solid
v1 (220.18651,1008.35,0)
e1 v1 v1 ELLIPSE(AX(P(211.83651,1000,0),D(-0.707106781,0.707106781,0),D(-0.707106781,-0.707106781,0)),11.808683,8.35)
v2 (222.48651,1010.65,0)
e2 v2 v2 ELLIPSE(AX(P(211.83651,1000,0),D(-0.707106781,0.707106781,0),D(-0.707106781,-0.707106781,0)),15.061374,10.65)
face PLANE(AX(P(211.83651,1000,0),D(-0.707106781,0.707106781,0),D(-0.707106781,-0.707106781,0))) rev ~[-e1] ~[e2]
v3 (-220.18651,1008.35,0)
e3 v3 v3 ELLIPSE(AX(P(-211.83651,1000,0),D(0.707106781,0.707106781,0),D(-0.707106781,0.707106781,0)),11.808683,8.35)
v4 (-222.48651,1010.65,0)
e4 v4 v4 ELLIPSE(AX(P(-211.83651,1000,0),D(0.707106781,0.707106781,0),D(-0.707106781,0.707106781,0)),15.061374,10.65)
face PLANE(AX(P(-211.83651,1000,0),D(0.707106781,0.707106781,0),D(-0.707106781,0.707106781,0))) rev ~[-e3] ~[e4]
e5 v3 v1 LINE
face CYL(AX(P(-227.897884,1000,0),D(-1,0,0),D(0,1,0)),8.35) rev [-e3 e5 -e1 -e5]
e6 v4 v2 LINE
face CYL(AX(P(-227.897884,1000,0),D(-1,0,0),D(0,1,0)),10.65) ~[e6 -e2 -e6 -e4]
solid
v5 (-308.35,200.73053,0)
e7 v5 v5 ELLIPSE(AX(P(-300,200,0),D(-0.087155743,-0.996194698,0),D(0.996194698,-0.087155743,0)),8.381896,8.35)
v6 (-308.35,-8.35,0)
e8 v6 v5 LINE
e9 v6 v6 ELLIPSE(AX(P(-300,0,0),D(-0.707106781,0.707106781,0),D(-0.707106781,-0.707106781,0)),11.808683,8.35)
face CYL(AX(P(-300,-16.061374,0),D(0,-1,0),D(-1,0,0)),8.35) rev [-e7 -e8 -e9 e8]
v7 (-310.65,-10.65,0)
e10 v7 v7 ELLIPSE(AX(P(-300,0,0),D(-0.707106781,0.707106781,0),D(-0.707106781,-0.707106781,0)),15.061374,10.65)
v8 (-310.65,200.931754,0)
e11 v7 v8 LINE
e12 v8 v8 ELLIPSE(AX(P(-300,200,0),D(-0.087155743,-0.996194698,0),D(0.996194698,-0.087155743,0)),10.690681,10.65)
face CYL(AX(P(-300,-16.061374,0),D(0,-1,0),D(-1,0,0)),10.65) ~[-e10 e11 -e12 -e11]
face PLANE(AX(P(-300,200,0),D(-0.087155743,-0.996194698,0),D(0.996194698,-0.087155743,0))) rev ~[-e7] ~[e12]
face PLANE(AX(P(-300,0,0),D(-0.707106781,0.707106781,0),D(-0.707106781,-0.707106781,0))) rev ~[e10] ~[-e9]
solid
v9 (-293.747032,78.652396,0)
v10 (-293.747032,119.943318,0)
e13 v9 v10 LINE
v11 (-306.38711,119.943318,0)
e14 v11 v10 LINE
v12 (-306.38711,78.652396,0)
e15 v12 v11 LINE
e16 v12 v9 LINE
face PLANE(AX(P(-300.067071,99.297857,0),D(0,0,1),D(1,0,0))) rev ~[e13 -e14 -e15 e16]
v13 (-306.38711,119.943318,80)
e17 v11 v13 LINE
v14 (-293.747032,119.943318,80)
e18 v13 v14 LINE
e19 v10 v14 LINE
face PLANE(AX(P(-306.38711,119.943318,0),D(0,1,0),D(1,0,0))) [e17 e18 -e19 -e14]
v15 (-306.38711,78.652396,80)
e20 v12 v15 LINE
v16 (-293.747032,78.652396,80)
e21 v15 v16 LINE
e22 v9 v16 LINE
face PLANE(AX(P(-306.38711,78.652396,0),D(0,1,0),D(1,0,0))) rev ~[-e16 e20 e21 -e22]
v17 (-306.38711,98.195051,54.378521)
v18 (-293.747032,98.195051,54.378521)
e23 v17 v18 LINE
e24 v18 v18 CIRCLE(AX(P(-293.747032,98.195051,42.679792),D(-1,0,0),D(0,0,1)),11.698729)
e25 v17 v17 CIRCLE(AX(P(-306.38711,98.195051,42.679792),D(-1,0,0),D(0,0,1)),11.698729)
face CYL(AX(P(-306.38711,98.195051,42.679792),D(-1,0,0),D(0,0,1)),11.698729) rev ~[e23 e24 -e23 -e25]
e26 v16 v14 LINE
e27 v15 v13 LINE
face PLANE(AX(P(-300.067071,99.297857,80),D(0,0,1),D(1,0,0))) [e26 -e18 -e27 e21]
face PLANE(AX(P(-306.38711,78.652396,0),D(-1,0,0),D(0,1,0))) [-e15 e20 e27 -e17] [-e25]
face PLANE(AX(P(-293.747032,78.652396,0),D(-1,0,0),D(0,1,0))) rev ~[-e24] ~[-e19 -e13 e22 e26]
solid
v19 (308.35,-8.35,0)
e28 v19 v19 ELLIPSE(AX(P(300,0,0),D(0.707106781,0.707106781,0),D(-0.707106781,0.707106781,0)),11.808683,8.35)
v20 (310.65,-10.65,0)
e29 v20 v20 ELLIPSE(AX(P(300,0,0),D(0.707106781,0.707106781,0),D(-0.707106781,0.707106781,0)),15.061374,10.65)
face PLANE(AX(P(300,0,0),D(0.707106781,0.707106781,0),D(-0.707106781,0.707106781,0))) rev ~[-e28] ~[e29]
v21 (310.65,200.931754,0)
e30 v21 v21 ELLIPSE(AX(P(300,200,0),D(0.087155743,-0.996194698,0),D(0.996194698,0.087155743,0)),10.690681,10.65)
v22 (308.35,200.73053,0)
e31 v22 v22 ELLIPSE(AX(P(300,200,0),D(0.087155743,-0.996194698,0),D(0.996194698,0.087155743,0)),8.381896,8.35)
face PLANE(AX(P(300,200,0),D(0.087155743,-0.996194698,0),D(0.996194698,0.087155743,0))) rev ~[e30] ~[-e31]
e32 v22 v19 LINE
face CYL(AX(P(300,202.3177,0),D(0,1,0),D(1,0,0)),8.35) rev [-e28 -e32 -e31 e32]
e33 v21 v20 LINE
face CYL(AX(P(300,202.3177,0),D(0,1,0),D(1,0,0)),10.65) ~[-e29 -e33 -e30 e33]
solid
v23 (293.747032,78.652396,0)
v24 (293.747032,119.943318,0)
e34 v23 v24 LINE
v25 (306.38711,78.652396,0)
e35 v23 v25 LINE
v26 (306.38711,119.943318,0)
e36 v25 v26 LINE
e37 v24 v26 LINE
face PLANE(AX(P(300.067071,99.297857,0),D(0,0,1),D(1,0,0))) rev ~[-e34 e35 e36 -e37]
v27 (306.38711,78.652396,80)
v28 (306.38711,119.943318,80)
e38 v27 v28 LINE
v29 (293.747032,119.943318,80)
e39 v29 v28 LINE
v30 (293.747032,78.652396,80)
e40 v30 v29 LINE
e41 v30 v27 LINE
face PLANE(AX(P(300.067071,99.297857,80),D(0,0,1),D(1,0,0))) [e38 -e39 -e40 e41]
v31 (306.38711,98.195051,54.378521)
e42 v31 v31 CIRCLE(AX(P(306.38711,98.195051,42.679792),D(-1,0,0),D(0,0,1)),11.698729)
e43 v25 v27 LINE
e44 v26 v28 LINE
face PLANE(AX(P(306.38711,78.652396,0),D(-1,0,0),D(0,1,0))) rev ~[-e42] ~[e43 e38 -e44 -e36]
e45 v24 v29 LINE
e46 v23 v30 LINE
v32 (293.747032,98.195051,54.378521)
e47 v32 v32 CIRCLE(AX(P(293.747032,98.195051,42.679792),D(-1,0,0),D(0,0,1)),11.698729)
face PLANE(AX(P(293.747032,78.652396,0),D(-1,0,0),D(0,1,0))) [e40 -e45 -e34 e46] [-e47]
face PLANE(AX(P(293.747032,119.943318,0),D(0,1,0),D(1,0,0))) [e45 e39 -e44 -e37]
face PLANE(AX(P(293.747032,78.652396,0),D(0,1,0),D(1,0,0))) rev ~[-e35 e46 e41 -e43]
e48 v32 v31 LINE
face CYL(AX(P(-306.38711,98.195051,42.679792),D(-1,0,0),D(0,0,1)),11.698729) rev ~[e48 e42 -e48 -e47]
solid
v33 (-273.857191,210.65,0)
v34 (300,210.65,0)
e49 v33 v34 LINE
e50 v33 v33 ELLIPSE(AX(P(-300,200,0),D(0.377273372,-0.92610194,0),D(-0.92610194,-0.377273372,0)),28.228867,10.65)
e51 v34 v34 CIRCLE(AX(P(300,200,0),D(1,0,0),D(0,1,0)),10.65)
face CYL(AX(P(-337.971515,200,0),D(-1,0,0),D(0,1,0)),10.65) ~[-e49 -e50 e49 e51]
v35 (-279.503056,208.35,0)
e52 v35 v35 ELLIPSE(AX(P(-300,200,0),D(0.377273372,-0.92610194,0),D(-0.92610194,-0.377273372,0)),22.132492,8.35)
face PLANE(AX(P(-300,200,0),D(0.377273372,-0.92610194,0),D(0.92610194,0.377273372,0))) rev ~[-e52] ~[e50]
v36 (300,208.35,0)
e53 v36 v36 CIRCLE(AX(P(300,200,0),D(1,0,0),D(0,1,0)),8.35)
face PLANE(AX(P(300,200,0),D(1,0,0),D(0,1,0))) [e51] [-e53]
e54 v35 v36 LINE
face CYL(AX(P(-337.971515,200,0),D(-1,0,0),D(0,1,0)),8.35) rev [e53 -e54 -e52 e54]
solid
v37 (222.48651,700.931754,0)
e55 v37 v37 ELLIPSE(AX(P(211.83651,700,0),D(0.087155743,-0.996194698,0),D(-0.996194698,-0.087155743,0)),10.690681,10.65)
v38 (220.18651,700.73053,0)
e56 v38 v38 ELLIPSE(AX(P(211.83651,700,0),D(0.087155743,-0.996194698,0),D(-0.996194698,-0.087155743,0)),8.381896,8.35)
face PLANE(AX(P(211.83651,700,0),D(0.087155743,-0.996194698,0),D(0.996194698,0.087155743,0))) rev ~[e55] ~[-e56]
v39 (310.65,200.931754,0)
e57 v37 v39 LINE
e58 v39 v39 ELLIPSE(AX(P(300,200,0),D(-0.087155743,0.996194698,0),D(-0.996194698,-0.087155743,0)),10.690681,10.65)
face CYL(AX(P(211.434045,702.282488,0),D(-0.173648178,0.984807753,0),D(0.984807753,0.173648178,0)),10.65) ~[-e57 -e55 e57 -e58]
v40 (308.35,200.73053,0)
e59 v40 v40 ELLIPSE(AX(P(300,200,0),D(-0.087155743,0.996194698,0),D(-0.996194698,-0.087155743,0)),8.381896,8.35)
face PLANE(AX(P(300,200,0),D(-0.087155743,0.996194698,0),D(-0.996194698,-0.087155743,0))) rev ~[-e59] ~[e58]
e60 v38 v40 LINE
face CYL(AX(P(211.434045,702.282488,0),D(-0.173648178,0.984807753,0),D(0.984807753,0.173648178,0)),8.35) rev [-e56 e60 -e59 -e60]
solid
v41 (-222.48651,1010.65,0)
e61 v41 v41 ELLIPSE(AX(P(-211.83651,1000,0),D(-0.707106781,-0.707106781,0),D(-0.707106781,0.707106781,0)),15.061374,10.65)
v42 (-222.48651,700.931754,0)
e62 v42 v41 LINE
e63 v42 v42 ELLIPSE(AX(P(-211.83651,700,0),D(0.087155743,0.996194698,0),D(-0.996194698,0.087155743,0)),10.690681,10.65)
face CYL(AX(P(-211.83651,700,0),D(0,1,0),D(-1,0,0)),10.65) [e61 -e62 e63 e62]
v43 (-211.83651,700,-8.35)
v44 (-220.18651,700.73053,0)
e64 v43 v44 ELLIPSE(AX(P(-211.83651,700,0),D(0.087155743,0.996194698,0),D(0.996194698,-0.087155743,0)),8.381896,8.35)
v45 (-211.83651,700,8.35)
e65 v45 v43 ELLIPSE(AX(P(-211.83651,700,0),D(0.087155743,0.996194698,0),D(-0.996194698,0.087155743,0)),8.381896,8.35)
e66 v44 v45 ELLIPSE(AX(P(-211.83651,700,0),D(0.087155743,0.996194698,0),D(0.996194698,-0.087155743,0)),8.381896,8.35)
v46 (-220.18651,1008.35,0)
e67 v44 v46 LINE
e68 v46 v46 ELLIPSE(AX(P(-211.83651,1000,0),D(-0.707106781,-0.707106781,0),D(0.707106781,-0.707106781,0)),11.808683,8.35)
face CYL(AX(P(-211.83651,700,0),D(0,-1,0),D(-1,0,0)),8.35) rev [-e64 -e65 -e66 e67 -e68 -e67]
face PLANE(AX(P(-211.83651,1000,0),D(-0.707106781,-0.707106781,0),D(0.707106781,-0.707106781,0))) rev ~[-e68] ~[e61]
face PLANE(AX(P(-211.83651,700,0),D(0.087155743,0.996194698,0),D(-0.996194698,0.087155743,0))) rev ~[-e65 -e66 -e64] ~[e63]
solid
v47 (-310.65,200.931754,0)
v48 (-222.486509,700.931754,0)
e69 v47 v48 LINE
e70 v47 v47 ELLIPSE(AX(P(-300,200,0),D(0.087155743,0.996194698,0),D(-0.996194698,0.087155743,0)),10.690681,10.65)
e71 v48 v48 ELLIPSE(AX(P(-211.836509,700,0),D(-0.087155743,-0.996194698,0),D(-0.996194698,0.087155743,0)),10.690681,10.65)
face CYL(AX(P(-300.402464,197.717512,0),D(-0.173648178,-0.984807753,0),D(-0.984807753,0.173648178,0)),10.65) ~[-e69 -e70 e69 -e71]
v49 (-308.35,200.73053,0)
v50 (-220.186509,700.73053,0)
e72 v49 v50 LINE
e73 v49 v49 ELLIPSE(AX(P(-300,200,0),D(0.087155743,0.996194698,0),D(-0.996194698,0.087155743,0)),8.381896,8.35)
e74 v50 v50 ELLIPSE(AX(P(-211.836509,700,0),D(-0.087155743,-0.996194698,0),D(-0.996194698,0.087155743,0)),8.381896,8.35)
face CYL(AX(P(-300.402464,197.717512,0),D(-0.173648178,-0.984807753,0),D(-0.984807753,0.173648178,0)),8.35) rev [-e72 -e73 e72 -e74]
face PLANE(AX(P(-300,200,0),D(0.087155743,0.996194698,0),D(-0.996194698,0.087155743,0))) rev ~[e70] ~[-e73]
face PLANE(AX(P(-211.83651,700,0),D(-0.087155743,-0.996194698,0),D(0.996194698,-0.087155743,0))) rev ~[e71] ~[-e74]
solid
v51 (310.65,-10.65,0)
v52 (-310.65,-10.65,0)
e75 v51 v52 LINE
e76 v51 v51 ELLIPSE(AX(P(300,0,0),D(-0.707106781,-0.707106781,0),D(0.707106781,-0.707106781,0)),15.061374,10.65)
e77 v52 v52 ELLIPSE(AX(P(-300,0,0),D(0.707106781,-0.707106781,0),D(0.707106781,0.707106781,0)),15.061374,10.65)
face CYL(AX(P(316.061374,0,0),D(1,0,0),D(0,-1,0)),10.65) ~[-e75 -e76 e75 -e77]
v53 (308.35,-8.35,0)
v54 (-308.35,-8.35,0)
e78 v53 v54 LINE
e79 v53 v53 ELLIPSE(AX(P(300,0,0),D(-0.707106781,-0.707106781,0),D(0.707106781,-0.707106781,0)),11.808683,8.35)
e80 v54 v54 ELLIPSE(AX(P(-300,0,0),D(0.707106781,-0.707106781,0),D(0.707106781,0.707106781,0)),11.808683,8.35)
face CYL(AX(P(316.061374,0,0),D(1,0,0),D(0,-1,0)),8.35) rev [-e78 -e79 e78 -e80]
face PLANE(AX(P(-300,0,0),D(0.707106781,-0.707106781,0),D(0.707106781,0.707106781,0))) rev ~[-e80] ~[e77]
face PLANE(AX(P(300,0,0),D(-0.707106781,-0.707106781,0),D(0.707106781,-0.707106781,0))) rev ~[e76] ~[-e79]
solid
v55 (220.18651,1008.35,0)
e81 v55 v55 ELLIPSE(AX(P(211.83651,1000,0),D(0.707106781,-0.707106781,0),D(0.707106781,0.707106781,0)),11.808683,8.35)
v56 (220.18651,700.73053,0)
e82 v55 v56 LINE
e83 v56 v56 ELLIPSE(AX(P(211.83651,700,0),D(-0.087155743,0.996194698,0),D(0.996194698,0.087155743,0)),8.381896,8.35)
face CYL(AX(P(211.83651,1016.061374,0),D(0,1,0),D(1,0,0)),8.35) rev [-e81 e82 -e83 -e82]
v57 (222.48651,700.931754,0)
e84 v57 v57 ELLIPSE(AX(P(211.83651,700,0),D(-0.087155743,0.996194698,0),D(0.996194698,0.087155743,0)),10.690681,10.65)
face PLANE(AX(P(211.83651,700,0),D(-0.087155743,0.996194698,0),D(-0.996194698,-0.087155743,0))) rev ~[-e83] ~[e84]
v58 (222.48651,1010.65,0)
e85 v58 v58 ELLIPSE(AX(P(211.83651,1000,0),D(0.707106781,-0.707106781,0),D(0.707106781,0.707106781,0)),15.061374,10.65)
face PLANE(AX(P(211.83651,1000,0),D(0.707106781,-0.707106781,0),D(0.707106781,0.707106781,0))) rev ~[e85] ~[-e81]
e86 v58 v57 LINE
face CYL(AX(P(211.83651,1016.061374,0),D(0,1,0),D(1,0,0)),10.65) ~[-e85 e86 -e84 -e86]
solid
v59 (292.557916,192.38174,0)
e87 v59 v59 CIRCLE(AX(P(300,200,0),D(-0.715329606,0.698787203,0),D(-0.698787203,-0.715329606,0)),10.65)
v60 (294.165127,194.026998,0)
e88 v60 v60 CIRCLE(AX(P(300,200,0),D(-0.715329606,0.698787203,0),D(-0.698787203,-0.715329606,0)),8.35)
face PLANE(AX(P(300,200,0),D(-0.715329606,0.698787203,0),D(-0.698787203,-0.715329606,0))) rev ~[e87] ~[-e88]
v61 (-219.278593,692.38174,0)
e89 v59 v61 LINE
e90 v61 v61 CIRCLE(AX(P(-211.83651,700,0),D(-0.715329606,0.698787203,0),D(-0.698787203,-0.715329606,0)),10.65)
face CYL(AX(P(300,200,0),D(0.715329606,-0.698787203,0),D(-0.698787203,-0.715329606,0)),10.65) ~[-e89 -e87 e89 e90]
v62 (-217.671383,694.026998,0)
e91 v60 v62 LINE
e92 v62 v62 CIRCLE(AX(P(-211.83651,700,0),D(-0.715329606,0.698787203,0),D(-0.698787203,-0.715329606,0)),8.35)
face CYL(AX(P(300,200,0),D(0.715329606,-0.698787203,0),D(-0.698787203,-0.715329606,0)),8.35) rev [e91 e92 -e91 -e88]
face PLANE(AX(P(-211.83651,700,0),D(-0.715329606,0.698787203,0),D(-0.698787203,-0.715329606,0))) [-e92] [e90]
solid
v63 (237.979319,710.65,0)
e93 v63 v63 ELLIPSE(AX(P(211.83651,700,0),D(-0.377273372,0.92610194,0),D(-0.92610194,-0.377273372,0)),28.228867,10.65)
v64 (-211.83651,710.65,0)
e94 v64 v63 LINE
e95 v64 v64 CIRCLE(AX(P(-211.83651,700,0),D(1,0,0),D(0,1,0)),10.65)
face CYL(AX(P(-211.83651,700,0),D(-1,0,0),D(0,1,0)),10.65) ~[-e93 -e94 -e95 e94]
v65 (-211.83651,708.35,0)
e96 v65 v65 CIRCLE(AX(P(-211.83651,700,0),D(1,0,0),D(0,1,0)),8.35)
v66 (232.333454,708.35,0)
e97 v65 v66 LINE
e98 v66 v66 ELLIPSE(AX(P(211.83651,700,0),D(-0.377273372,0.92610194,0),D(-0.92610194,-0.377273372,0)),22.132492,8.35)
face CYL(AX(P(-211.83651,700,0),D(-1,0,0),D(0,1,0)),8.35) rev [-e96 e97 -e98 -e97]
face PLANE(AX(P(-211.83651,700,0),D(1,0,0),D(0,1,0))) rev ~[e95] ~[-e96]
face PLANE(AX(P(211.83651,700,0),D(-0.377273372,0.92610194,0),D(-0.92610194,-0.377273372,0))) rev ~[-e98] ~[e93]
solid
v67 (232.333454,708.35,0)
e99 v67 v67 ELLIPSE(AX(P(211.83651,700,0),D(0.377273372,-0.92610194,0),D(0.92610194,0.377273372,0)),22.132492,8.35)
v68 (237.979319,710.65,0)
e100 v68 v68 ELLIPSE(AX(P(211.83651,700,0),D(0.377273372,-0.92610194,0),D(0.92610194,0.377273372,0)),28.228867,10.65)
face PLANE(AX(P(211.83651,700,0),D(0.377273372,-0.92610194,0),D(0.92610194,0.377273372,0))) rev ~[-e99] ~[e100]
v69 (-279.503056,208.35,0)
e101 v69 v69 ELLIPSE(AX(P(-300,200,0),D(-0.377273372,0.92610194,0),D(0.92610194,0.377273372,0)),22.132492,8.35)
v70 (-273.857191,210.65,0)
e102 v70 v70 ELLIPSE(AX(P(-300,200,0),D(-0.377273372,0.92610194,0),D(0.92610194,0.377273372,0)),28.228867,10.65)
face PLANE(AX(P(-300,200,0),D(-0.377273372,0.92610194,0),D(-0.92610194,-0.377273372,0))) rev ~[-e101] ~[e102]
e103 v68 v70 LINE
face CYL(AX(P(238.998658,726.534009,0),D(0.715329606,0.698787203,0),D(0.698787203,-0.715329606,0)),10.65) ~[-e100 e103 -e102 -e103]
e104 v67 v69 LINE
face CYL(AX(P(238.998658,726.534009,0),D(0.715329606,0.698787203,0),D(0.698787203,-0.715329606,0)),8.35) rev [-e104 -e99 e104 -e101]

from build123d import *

# Parameters (mm, degrees)
SKETCH11_R                              = 10.65
SKETCH11_R_2                            = 8.35
PIPE_CONFIGURED_21_3_X_2_3_1_DEPTH      = 316.061374439
PIPE_CONFIGURED_21_3_X_2_3_1_DEPTH_BACK = 2.317699521
SKETCH11_ON_SEGMENT_2_R                 = 10.65
SKETCH11_ON_SEGMENT_2_R_2               = 8.35
PIPE_CONFIGURED_21_3_X_2_3_1_2_DEPTH    = 455.79576817
SKETCH11_ON_SEGMENT_3_R                 = 10.65
SKETCH11_ON_SEGMENT_3_R_2               = 8.35
PIPE_CONFIGURED_21_3_X_2_3_1_3_DEPTH    = 318.37907396
SKETCH11_ON_SEGMENT_4_R                 = 10.65
SKETCH11_ON_SEGMENT_4_R_2               = 8.35
PIPE_CONFIGURED_21_3_X_2_3_1_4_DEPTH    = 512.348704984
SKETCH11_ON_SEGMENT_5_R                 = 10.65
SKETCH11_ON_SEGMENT_5_R_2               = 8.35
PIPE_CONFIGURED_21_3_X_2_3_1_5_DEPTH    = 218.37907396
SKETCH11_ON_SEGMENT_6_R                 = 10.65
SKETCH11_ON_SEGMENT_6_R_2               = 8.35
PIPE_CONFIGURED_21_3_X_2_3_1_6_DEPTH    = 632.122748879
SKETCH11_ON_SEGMENT_7_R                 = 10.65
SKETCH11_ON_SEGMENT_7_R_2               = 8.35
PIPE_CONFIGURED_21_3_X_2_3_1_7_DEPTH    = 218.37907396
SKETCH11_ON_SEGMENT_8_R                 = 10.65
SKETCH11_ON_SEGMENT_8_R_2               = 8.35
PIPE_CONFIGURED_21_3_X_2_3_1_8_DEPTH    = 512.348704984
SKETCH12_R                              = 10.65
SKETCH12_R_2                            = 8.35
PIPE_CONFIGURED_21_3_X_2_3_2_DEPTH      = 461.644534185
SKETCH12_ON_SEGMENT_2_R                 = 10.65
SKETCH12_ON_SEGMENT_2_R_2               = 8.35
PIPE_CONFIGURED_21_3_X_2_3_2_2_DEPTH    = 791.468439963
SKETCH12_ON_SEGMENT_3_R                 = 10.65
SKETCH12_ON_SEGMENT_3_R_2               = 8.35
PIPE_CONFIGURED_21_3_X_2_3_2_3_DEPTH    = 637.971514894
SKETCH13_R                              = 10.65
SKETCH13_R_2                            = 8.35
PIPE_CONFIGURED_21_3_X_2_3_3_DEPTH      = 715.525410175
SKETCH14_W                              = 12.640078246
SKETCH14_H                              = 41.290922271
BOSS_EXTRUDE1_DEPTH                     = 80
BOSS_EXTRUDE1_2_DEPTH                   = 80
SKETCH16_R                              = 11.698728684
CUT_EXTRUDE1_DEPTH                      = 730


with BuildPart() as part:
    # Sketch11 → Pipe - configured 21.3 X 2.3(1) (new, two sides)
    with BuildSketch(Plane(origin=(-211.836509646, 700, 0), x_dir=(-1, 0, 0), z_dir=(0, 1, 0))) as pipe_configured_21_3_x_2_3_1_sk:
        Circle(SKETCH11_R)
        Circle(SKETCH11_R_2, mode=Mode.SUBTRACT)
    extrude(amount=PIPE_CONFIGURED_21_3_X_2_3_1_DEPTH)
    extrude(pipe_configured_21_3_x_2_3_1_sk.sketch, amount=-PIPE_CONFIGURED_21_3_X_2_3_1_DEPTH_BACK)

    # Pipe - configured 21.3 X 2.3(1) mitre 1
    split(bisect_by=Plane(origin=(-211.836509646, 700, 0), x_dir=(-0.996194698, 0.087155743, 0), z_dir=(0.087155743, 0.996194698, 0)), keep=Keep.TOP)

    # Pipe - configured 21.3 X 2.3(1) mitre 2
    split(bisect_by=Plane(origin=(-211.836509646, 1000, 0), x_dir=(0.707106781, -0.707106781, 0), z_dir=(-0.707106781, -0.707106781, 0)), keep=Keep.TOP)


with BuildPart() as body_2:
    # Sketch11 on segment 2 (carried to segment 2) → Pipe - configured 21.3 X 2.3_1 2 (new body)
    with BuildSketch(Plane(origin=(-227.897884085, 1000, 0), x_dir=(0, 1, 0), z_dir=(1, 0, 0))):
        Circle(SKETCH11_ON_SEGMENT_2_R)
        Circle(SKETCH11_ON_SEGMENT_2_R_2, mode=Mode.SUBTRACT)
    extrude(amount=PIPE_CONFIGURED_21_3_X_2_3_1_2_DEPTH)

    # Pipe - configured 21.3 X 2.3_1 2 mitre 1
    split(bisect_by=Plane(origin=(211.836509646, 1000, 0), x_dir=(-0.707106781, -0.707106781, 0), z_dir=(-0.707106781, 0.707106781, 0)), keep=Keep.TOP)

    # Pipe - configured 21.3 X 2.3_1 2 mitre 2
    split(bisect_by=Plane(origin=(-211.836509646, 1000, 0), x_dir=(-0.707106781, 0.707106781, 0), z_dir=(0.707106781, 0.707106781, 0)), keep=Keep.TOP)


with BuildPart() as body_3:
    # Sketch11 on segment 3 (carried to segment 3) → Pipe - configured 21.3 X 2.3_1 3 (new body)
    with BuildSketch(Plane(origin=(211.836509646, 1016.061374439, 0), x_dir=(1, 0, 0), z_dir=(0, -1, 0))):
        Circle(SKETCH11_ON_SEGMENT_3_R)
        Circle(SKETCH11_ON_SEGMENT_3_R_2, mode=Mode.SUBTRACT)
    extrude(amount=PIPE_CONFIGURED_21_3_X_2_3_1_3_DEPTH)

    # Pipe - configured 21.3 X 2.3_1 3 mitre 1
    split(bisect_by=Plane(origin=(211.836509646, 700, 0), x_dir=(-0.996194698, -0.087155743, 0), z_dir=(-0.087155743, 0.996194698, 0)), keep=Keep.TOP)

    # Pipe - configured 21.3 X 2.3_1 3 mitre 2
    split(bisect_by=Plane(origin=(211.836509646, 1000, 0), x_dir=(0.707106781, 0.707106781, 0), z_dir=(0.707106781, -0.707106781, 0)), keep=Keep.TOP)


with BuildPart() as body_4:
    # Sketch11 on segment 4 (carried to segment 4) → Pipe - configured 21.3 X 2.3_1 4 (new body)
    with BuildSketch(Plane(origin=(211.434045348, 702.282488457, 0), x_dir=(0.984807753, 0.173648178, 0), z_dir=(0.173648178, -0.984807753, 0))):
        Circle(SKETCH11_ON_SEGMENT_4_R)
        Circle(SKETCH11_ON_SEGMENT_4_R_2, mode=Mode.SUBTRACT)
    extrude(amount=PIPE_CONFIGURED_21_3_X_2_3_1_4_DEPTH)

    # Pipe - configured 21.3 X 2.3_1 4 mitre 1
    split(bisect_by=Plane(origin=(300, 200, 0), x_dir=(-0.996194698, -0.087155743, 0), z_dir=(-0.087155743, 0.996194698, 0)), keep=Keep.TOP)

    # Pipe - configured 21.3 X 2.3_1 4 mitre 2
    split(bisect_by=Plane(origin=(211.836509646, 700, 0), x_dir=(0.996194698, 0.087155743, 0), z_dir=(0.087155743, -0.996194698, 0)), keep=Keep.TOP)


with BuildPart() as body_5:
    # Sketch11 on segment 5 (carried to segment 5) → Pipe - configured 21.3 X 2.3_1 5 (new body)
    with BuildSketch(Plane(origin=(300, 202.317699521, 0), x_dir=(1, 0, 0), z_dir=(0, -1, 0))):
        Circle(SKETCH11_ON_SEGMENT_5_R)
        Circle(SKETCH11_ON_SEGMENT_5_R_2, mode=Mode.SUBTRACT)
    extrude(amount=PIPE_CONFIGURED_21_3_X_2_3_1_5_DEPTH)

    # Pipe - configured 21.3 X 2.3_1 5 mitre 1
    split(bisect_by=Plane(origin=(300, 0, 0), x_dir=(-0.707106781, 0.707106781, 0), z_dir=(0.707106781, 0.707106781, 0)), keep=Keep.TOP)

    # Pipe - configured 21.3 X 2.3_1 5 mitre 2
    split(bisect_by=Plane(origin=(300, 200, 0), x_dir=(0.996194698, 0.087155743, 0), z_dir=(0.087155743, -0.996194698, 0)), keep=Keep.TOP)


with BuildPart() as body_6:
    # Sketch11 on segment 6 (carried to segment 6) → Pipe - configured 21.3 X 2.3_1 6 (new body)
    with BuildSketch(Plane(origin=(316.061374439, 0, 0), x_dir=(0, -1, 0), z_dir=(-1, 0, 0))):
        Circle(SKETCH11_ON_SEGMENT_6_R)
        Circle(SKETCH11_ON_SEGMENT_6_R_2, mode=Mode.SUBTRACT)
    extrude(amount=PIPE_CONFIGURED_21_3_X_2_3_1_6_DEPTH)

    # Pipe - configured 21.3 X 2.3_1 6 mitre 1
    split(bisect_by=Plane(origin=(-300, 0, 0), x_dir=(0.707106781, 0.707106781, 0), z_dir=(0.707106781, -0.707106781, 0)), keep=Keep.TOP)

    # Pipe - configured 21.3 X 2.3_1 6 mitre 2
    split(bisect_by=Plane(origin=(300, 0, 0), x_dir=(0.707106781, -0.707106781, 0), z_dir=(-0.707106781, -0.707106781, 0)), keep=Keep.TOP)


with BuildPart() as body_7:
    # Sketch11 on segment 7 (carried to segment 7) → Pipe - configured 21.3 X 2.3_1 7 (new body)
    with BuildSketch(Plane(origin=(-300, -16.061374439, 0), x_dir=(-1, 0, 0), z_dir=(0, 1, 0))):
        Circle(SKETCH11_ON_SEGMENT_7_R)
        Circle(SKETCH11_ON_SEGMENT_7_R_2, mode=Mode.SUBTRACT)
    extrude(amount=PIPE_CONFIGURED_21_3_X_2_3_1_7_DEPTH)

    # Pipe - configured 21.3 X 2.3_1 7 mitre 1
    split(bisect_by=Plane(origin=(-300, 0, 0), x_dir=(-0.707106781, -0.707106781, 0), z_dir=(-0.707106781, 0.707106781, 0)), keep=Keep.TOP)

    # Pipe - configured 21.3 X 2.3_1 7 mitre 2
    split(bisect_by=Plane(origin=(-300, 200, 0), x_dir=(0.996194698, -0.087155743, 0), z_dir=(-0.087155743, -0.996194698, 0)), keep=Keep.TOP)


with BuildPart() as body_8:
    # Sketch11 on segment 8 (carried to segment 8) → Pipe - configured 21.3 X 2.3_1 8 (new body)
    with BuildSketch(Plane(origin=(-300.402464298, 197.717511543, 0), x_dir=(-0.984807753, 0.173648178, 0), z_dir=(0.173648178, 0.984807753, 0))):
        Circle(SKETCH11_ON_SEGMENT_8_R)
        Circle(SKETCH11_ON_SEGMENT_8_R_2, mode=Mode.SUBTRACT)
    extrude(amount=PIPE_CONFIGURED_21_3_X_2_3_1_8_DEPTH)

    # Pipe - configured 21.3 X 2.3_1 8 mitre 1
    split(bisect_by=Plane(origin=(-300, 200, 0), x_dir=(-0.996194698, 0.087155743, 0), z_dir=(0.087155743, 0.996194698, 0)), keep=Keep.TOP)

    # Pipe - configured 21.3 X 2.3_1 8 mitre 2
    split(bisect_by=Plane(origin=(-211.836509646, 700, 0), x_dir=(0.996194698, -0.087155743, 0), z_dir=(-0.087155743, -0.996194698, 0)), keep=Keep.TOP)


with BuildPart() as body_9:
    # Sketch12 → Pipe - configured 21.3 X 2.3(2) (new body)
    with BuildSketch(Plane(origin=(-211.836509646, 700, 0), x_dir=(0, 1, 0), z_dir=(1, 0, 0))):
        Circle(SKETCH12_R)
        Circle(SKETCH12_R_2, mode=Mode.SUBTRACT)
    extrude(amount=PIPE_CONFIGURED_21_3_X_2_3_2_DEPTH)

    # Pipe - configured 21.3 X 2.3(2) mitre 1
    split(bisect_by=Plane(origin=(211.836509646, 700, 0), x_dir=(-0.92610194, -0.377273372, 0), z_dir=(-0.377273372, 0.92610194, 0)), keep=Keep.TOP)


with BuildPart() as body_10:
    # Sketch12 on segment 2 (carried to segment 2) → Pipe - configured 21.3 X 2.3_2 2 (new body)
    with BuildSketch(Plane(origin=(238.998658429, 726.534008684, 0), x_dir=(0.698787203, -0.715329606, 0), z_dir=(-0.715329606, -0.698787203, 0))):
        Circle(SKETCH12_ON_SEGMENT_2_R)
        Circle(SKETCH12_ON_SEGMENT_2_R_2, mode=Mode.SUBTRACT)
    extrude(amount=PIPE_CONFIGURED_21_3_X_2_3_2_2_DEPTH)

    # Pipe - configured 21.3 X 2.3_2 2 mitre 1
    split(bisect_by=Plane(origin=(-300, 200, 0), x_dir=(-0.92610194, -0.377273372, 0), z_dir=(-0.377273372, 0.92610194, 0)), keep=Keep.TOP)

    # Pipe - configured 21.3 X 2.3_2 2 mitre 2
    split(bisect_by=Plane(origin=(211.836509646, 700, 0), x_dir=(0.92610194, 0.377273372, 0), z_dir=(0.377273372, -0.92610194, 0)), keep=Keep.TOP)


with BuildPart() as body_11:
    # Sketch12 on segment 3 (carried to segment 3) → Pipe - configured 21.3 X 2.3_2 3 (new body)
    with BuildSketch(Plane(origin=(-337.971514894, 200, 0), x_dir=(0, 1, 0), z_dir=(1, 0, 0))):
        Circle(SKETCH12_ON_SEGMENT_3_R)
        Circle(SKETCH12_ON_SEGMENT_3_R_2, mode=Mode.SUBTRACT)
    extrude(amount=PIPE_CONFIGURED_21_3_X_2_3_2_3_DEPTH)

    # Pipe - configured 21.3 X 2.3_2 3 mitre 1
    split(bisect_by=Plane(origin=(-300, 200, 0), x_dir=(0.92610194, 0.377273372, 0), z_dir=(0.377273372, -0.92610194, 0)), keep=Keep.TOP)


with BuildPart() as body_12:
    # Sketch13 → Pipe - configured 21.3 X 2.3(3) (new body)
    with BuildSketch(Plane(origin=(300, 200, 0), x_dir=(-0.6987872029276858, -0.7153296058632701, 0), z_dir=(-0.7153296058632701, 0.6987872029276858, 0))):
        Circle(SKETCH13_R)
        Circle(SKETCH13_R_2, mode=Mode.SUBTRACT)
    extrude(amount=PIPE_CONFIGURED_21_3_X_2_3_3_DEPTH)


with BuildPart() as body_13:
    # Sketch14 → Boss-Extrude1 (new body)
    with BuildSketch(Plane.XY):
        with Locations((300.067070693, 99.29785707)):
            Rectangle(SKETCH14_W, SKETCH14_H)
    extrude(amount=BOSS_EXTRUDE1_DEPTH)


with BuildPart() as body_14:
    # Sketch14 → Boss-Extrude1 2 (new body)
    with BuildSketch(Plane.XY):
        with Locations((-300.067070693, 99.29785707)):
            Rectangle(SKETCH14_W, SKETCH14_H)
    extrude(amount=BOSS_EXTRUDE1_2_DEPTH)


with BuildPart() as cut_extrude1_tool:
    # Sketch16 → Cut-Extrude1 (new body)
    with BuildSketch(Plane.ZY.offset(306.387109816)):
        with Locations((42.679791903, 98.195050739)):
            Circle(SKETCH16_R)
    extrude(amount=-CUT_EXTRUDE1_DEPTH)


with BuildPart() as body_13_1:
    add(body_13.part)

    # Cut-Extrude1: cut by cut_extrude1_tool
    add(cut_extrude1_tool.part, mode=Mode.SUBTRACT)


with BuildPart() as body_14_1:
    add(body_14.part)

    # Cut-Extrude1: cut by cut_extrude1_tool
    add(cut_extrude1_tool.part, mode=Mode.SUBTRACT)


solid = Compound([part.part, body_2.part, body_3.part, body_4.part, body_5.part, body_6.part, body_7.part, body_8.part, body_9.part, body_10.part, body_11.part, body_12.part, body_13_1.part, body_14_1.part])
